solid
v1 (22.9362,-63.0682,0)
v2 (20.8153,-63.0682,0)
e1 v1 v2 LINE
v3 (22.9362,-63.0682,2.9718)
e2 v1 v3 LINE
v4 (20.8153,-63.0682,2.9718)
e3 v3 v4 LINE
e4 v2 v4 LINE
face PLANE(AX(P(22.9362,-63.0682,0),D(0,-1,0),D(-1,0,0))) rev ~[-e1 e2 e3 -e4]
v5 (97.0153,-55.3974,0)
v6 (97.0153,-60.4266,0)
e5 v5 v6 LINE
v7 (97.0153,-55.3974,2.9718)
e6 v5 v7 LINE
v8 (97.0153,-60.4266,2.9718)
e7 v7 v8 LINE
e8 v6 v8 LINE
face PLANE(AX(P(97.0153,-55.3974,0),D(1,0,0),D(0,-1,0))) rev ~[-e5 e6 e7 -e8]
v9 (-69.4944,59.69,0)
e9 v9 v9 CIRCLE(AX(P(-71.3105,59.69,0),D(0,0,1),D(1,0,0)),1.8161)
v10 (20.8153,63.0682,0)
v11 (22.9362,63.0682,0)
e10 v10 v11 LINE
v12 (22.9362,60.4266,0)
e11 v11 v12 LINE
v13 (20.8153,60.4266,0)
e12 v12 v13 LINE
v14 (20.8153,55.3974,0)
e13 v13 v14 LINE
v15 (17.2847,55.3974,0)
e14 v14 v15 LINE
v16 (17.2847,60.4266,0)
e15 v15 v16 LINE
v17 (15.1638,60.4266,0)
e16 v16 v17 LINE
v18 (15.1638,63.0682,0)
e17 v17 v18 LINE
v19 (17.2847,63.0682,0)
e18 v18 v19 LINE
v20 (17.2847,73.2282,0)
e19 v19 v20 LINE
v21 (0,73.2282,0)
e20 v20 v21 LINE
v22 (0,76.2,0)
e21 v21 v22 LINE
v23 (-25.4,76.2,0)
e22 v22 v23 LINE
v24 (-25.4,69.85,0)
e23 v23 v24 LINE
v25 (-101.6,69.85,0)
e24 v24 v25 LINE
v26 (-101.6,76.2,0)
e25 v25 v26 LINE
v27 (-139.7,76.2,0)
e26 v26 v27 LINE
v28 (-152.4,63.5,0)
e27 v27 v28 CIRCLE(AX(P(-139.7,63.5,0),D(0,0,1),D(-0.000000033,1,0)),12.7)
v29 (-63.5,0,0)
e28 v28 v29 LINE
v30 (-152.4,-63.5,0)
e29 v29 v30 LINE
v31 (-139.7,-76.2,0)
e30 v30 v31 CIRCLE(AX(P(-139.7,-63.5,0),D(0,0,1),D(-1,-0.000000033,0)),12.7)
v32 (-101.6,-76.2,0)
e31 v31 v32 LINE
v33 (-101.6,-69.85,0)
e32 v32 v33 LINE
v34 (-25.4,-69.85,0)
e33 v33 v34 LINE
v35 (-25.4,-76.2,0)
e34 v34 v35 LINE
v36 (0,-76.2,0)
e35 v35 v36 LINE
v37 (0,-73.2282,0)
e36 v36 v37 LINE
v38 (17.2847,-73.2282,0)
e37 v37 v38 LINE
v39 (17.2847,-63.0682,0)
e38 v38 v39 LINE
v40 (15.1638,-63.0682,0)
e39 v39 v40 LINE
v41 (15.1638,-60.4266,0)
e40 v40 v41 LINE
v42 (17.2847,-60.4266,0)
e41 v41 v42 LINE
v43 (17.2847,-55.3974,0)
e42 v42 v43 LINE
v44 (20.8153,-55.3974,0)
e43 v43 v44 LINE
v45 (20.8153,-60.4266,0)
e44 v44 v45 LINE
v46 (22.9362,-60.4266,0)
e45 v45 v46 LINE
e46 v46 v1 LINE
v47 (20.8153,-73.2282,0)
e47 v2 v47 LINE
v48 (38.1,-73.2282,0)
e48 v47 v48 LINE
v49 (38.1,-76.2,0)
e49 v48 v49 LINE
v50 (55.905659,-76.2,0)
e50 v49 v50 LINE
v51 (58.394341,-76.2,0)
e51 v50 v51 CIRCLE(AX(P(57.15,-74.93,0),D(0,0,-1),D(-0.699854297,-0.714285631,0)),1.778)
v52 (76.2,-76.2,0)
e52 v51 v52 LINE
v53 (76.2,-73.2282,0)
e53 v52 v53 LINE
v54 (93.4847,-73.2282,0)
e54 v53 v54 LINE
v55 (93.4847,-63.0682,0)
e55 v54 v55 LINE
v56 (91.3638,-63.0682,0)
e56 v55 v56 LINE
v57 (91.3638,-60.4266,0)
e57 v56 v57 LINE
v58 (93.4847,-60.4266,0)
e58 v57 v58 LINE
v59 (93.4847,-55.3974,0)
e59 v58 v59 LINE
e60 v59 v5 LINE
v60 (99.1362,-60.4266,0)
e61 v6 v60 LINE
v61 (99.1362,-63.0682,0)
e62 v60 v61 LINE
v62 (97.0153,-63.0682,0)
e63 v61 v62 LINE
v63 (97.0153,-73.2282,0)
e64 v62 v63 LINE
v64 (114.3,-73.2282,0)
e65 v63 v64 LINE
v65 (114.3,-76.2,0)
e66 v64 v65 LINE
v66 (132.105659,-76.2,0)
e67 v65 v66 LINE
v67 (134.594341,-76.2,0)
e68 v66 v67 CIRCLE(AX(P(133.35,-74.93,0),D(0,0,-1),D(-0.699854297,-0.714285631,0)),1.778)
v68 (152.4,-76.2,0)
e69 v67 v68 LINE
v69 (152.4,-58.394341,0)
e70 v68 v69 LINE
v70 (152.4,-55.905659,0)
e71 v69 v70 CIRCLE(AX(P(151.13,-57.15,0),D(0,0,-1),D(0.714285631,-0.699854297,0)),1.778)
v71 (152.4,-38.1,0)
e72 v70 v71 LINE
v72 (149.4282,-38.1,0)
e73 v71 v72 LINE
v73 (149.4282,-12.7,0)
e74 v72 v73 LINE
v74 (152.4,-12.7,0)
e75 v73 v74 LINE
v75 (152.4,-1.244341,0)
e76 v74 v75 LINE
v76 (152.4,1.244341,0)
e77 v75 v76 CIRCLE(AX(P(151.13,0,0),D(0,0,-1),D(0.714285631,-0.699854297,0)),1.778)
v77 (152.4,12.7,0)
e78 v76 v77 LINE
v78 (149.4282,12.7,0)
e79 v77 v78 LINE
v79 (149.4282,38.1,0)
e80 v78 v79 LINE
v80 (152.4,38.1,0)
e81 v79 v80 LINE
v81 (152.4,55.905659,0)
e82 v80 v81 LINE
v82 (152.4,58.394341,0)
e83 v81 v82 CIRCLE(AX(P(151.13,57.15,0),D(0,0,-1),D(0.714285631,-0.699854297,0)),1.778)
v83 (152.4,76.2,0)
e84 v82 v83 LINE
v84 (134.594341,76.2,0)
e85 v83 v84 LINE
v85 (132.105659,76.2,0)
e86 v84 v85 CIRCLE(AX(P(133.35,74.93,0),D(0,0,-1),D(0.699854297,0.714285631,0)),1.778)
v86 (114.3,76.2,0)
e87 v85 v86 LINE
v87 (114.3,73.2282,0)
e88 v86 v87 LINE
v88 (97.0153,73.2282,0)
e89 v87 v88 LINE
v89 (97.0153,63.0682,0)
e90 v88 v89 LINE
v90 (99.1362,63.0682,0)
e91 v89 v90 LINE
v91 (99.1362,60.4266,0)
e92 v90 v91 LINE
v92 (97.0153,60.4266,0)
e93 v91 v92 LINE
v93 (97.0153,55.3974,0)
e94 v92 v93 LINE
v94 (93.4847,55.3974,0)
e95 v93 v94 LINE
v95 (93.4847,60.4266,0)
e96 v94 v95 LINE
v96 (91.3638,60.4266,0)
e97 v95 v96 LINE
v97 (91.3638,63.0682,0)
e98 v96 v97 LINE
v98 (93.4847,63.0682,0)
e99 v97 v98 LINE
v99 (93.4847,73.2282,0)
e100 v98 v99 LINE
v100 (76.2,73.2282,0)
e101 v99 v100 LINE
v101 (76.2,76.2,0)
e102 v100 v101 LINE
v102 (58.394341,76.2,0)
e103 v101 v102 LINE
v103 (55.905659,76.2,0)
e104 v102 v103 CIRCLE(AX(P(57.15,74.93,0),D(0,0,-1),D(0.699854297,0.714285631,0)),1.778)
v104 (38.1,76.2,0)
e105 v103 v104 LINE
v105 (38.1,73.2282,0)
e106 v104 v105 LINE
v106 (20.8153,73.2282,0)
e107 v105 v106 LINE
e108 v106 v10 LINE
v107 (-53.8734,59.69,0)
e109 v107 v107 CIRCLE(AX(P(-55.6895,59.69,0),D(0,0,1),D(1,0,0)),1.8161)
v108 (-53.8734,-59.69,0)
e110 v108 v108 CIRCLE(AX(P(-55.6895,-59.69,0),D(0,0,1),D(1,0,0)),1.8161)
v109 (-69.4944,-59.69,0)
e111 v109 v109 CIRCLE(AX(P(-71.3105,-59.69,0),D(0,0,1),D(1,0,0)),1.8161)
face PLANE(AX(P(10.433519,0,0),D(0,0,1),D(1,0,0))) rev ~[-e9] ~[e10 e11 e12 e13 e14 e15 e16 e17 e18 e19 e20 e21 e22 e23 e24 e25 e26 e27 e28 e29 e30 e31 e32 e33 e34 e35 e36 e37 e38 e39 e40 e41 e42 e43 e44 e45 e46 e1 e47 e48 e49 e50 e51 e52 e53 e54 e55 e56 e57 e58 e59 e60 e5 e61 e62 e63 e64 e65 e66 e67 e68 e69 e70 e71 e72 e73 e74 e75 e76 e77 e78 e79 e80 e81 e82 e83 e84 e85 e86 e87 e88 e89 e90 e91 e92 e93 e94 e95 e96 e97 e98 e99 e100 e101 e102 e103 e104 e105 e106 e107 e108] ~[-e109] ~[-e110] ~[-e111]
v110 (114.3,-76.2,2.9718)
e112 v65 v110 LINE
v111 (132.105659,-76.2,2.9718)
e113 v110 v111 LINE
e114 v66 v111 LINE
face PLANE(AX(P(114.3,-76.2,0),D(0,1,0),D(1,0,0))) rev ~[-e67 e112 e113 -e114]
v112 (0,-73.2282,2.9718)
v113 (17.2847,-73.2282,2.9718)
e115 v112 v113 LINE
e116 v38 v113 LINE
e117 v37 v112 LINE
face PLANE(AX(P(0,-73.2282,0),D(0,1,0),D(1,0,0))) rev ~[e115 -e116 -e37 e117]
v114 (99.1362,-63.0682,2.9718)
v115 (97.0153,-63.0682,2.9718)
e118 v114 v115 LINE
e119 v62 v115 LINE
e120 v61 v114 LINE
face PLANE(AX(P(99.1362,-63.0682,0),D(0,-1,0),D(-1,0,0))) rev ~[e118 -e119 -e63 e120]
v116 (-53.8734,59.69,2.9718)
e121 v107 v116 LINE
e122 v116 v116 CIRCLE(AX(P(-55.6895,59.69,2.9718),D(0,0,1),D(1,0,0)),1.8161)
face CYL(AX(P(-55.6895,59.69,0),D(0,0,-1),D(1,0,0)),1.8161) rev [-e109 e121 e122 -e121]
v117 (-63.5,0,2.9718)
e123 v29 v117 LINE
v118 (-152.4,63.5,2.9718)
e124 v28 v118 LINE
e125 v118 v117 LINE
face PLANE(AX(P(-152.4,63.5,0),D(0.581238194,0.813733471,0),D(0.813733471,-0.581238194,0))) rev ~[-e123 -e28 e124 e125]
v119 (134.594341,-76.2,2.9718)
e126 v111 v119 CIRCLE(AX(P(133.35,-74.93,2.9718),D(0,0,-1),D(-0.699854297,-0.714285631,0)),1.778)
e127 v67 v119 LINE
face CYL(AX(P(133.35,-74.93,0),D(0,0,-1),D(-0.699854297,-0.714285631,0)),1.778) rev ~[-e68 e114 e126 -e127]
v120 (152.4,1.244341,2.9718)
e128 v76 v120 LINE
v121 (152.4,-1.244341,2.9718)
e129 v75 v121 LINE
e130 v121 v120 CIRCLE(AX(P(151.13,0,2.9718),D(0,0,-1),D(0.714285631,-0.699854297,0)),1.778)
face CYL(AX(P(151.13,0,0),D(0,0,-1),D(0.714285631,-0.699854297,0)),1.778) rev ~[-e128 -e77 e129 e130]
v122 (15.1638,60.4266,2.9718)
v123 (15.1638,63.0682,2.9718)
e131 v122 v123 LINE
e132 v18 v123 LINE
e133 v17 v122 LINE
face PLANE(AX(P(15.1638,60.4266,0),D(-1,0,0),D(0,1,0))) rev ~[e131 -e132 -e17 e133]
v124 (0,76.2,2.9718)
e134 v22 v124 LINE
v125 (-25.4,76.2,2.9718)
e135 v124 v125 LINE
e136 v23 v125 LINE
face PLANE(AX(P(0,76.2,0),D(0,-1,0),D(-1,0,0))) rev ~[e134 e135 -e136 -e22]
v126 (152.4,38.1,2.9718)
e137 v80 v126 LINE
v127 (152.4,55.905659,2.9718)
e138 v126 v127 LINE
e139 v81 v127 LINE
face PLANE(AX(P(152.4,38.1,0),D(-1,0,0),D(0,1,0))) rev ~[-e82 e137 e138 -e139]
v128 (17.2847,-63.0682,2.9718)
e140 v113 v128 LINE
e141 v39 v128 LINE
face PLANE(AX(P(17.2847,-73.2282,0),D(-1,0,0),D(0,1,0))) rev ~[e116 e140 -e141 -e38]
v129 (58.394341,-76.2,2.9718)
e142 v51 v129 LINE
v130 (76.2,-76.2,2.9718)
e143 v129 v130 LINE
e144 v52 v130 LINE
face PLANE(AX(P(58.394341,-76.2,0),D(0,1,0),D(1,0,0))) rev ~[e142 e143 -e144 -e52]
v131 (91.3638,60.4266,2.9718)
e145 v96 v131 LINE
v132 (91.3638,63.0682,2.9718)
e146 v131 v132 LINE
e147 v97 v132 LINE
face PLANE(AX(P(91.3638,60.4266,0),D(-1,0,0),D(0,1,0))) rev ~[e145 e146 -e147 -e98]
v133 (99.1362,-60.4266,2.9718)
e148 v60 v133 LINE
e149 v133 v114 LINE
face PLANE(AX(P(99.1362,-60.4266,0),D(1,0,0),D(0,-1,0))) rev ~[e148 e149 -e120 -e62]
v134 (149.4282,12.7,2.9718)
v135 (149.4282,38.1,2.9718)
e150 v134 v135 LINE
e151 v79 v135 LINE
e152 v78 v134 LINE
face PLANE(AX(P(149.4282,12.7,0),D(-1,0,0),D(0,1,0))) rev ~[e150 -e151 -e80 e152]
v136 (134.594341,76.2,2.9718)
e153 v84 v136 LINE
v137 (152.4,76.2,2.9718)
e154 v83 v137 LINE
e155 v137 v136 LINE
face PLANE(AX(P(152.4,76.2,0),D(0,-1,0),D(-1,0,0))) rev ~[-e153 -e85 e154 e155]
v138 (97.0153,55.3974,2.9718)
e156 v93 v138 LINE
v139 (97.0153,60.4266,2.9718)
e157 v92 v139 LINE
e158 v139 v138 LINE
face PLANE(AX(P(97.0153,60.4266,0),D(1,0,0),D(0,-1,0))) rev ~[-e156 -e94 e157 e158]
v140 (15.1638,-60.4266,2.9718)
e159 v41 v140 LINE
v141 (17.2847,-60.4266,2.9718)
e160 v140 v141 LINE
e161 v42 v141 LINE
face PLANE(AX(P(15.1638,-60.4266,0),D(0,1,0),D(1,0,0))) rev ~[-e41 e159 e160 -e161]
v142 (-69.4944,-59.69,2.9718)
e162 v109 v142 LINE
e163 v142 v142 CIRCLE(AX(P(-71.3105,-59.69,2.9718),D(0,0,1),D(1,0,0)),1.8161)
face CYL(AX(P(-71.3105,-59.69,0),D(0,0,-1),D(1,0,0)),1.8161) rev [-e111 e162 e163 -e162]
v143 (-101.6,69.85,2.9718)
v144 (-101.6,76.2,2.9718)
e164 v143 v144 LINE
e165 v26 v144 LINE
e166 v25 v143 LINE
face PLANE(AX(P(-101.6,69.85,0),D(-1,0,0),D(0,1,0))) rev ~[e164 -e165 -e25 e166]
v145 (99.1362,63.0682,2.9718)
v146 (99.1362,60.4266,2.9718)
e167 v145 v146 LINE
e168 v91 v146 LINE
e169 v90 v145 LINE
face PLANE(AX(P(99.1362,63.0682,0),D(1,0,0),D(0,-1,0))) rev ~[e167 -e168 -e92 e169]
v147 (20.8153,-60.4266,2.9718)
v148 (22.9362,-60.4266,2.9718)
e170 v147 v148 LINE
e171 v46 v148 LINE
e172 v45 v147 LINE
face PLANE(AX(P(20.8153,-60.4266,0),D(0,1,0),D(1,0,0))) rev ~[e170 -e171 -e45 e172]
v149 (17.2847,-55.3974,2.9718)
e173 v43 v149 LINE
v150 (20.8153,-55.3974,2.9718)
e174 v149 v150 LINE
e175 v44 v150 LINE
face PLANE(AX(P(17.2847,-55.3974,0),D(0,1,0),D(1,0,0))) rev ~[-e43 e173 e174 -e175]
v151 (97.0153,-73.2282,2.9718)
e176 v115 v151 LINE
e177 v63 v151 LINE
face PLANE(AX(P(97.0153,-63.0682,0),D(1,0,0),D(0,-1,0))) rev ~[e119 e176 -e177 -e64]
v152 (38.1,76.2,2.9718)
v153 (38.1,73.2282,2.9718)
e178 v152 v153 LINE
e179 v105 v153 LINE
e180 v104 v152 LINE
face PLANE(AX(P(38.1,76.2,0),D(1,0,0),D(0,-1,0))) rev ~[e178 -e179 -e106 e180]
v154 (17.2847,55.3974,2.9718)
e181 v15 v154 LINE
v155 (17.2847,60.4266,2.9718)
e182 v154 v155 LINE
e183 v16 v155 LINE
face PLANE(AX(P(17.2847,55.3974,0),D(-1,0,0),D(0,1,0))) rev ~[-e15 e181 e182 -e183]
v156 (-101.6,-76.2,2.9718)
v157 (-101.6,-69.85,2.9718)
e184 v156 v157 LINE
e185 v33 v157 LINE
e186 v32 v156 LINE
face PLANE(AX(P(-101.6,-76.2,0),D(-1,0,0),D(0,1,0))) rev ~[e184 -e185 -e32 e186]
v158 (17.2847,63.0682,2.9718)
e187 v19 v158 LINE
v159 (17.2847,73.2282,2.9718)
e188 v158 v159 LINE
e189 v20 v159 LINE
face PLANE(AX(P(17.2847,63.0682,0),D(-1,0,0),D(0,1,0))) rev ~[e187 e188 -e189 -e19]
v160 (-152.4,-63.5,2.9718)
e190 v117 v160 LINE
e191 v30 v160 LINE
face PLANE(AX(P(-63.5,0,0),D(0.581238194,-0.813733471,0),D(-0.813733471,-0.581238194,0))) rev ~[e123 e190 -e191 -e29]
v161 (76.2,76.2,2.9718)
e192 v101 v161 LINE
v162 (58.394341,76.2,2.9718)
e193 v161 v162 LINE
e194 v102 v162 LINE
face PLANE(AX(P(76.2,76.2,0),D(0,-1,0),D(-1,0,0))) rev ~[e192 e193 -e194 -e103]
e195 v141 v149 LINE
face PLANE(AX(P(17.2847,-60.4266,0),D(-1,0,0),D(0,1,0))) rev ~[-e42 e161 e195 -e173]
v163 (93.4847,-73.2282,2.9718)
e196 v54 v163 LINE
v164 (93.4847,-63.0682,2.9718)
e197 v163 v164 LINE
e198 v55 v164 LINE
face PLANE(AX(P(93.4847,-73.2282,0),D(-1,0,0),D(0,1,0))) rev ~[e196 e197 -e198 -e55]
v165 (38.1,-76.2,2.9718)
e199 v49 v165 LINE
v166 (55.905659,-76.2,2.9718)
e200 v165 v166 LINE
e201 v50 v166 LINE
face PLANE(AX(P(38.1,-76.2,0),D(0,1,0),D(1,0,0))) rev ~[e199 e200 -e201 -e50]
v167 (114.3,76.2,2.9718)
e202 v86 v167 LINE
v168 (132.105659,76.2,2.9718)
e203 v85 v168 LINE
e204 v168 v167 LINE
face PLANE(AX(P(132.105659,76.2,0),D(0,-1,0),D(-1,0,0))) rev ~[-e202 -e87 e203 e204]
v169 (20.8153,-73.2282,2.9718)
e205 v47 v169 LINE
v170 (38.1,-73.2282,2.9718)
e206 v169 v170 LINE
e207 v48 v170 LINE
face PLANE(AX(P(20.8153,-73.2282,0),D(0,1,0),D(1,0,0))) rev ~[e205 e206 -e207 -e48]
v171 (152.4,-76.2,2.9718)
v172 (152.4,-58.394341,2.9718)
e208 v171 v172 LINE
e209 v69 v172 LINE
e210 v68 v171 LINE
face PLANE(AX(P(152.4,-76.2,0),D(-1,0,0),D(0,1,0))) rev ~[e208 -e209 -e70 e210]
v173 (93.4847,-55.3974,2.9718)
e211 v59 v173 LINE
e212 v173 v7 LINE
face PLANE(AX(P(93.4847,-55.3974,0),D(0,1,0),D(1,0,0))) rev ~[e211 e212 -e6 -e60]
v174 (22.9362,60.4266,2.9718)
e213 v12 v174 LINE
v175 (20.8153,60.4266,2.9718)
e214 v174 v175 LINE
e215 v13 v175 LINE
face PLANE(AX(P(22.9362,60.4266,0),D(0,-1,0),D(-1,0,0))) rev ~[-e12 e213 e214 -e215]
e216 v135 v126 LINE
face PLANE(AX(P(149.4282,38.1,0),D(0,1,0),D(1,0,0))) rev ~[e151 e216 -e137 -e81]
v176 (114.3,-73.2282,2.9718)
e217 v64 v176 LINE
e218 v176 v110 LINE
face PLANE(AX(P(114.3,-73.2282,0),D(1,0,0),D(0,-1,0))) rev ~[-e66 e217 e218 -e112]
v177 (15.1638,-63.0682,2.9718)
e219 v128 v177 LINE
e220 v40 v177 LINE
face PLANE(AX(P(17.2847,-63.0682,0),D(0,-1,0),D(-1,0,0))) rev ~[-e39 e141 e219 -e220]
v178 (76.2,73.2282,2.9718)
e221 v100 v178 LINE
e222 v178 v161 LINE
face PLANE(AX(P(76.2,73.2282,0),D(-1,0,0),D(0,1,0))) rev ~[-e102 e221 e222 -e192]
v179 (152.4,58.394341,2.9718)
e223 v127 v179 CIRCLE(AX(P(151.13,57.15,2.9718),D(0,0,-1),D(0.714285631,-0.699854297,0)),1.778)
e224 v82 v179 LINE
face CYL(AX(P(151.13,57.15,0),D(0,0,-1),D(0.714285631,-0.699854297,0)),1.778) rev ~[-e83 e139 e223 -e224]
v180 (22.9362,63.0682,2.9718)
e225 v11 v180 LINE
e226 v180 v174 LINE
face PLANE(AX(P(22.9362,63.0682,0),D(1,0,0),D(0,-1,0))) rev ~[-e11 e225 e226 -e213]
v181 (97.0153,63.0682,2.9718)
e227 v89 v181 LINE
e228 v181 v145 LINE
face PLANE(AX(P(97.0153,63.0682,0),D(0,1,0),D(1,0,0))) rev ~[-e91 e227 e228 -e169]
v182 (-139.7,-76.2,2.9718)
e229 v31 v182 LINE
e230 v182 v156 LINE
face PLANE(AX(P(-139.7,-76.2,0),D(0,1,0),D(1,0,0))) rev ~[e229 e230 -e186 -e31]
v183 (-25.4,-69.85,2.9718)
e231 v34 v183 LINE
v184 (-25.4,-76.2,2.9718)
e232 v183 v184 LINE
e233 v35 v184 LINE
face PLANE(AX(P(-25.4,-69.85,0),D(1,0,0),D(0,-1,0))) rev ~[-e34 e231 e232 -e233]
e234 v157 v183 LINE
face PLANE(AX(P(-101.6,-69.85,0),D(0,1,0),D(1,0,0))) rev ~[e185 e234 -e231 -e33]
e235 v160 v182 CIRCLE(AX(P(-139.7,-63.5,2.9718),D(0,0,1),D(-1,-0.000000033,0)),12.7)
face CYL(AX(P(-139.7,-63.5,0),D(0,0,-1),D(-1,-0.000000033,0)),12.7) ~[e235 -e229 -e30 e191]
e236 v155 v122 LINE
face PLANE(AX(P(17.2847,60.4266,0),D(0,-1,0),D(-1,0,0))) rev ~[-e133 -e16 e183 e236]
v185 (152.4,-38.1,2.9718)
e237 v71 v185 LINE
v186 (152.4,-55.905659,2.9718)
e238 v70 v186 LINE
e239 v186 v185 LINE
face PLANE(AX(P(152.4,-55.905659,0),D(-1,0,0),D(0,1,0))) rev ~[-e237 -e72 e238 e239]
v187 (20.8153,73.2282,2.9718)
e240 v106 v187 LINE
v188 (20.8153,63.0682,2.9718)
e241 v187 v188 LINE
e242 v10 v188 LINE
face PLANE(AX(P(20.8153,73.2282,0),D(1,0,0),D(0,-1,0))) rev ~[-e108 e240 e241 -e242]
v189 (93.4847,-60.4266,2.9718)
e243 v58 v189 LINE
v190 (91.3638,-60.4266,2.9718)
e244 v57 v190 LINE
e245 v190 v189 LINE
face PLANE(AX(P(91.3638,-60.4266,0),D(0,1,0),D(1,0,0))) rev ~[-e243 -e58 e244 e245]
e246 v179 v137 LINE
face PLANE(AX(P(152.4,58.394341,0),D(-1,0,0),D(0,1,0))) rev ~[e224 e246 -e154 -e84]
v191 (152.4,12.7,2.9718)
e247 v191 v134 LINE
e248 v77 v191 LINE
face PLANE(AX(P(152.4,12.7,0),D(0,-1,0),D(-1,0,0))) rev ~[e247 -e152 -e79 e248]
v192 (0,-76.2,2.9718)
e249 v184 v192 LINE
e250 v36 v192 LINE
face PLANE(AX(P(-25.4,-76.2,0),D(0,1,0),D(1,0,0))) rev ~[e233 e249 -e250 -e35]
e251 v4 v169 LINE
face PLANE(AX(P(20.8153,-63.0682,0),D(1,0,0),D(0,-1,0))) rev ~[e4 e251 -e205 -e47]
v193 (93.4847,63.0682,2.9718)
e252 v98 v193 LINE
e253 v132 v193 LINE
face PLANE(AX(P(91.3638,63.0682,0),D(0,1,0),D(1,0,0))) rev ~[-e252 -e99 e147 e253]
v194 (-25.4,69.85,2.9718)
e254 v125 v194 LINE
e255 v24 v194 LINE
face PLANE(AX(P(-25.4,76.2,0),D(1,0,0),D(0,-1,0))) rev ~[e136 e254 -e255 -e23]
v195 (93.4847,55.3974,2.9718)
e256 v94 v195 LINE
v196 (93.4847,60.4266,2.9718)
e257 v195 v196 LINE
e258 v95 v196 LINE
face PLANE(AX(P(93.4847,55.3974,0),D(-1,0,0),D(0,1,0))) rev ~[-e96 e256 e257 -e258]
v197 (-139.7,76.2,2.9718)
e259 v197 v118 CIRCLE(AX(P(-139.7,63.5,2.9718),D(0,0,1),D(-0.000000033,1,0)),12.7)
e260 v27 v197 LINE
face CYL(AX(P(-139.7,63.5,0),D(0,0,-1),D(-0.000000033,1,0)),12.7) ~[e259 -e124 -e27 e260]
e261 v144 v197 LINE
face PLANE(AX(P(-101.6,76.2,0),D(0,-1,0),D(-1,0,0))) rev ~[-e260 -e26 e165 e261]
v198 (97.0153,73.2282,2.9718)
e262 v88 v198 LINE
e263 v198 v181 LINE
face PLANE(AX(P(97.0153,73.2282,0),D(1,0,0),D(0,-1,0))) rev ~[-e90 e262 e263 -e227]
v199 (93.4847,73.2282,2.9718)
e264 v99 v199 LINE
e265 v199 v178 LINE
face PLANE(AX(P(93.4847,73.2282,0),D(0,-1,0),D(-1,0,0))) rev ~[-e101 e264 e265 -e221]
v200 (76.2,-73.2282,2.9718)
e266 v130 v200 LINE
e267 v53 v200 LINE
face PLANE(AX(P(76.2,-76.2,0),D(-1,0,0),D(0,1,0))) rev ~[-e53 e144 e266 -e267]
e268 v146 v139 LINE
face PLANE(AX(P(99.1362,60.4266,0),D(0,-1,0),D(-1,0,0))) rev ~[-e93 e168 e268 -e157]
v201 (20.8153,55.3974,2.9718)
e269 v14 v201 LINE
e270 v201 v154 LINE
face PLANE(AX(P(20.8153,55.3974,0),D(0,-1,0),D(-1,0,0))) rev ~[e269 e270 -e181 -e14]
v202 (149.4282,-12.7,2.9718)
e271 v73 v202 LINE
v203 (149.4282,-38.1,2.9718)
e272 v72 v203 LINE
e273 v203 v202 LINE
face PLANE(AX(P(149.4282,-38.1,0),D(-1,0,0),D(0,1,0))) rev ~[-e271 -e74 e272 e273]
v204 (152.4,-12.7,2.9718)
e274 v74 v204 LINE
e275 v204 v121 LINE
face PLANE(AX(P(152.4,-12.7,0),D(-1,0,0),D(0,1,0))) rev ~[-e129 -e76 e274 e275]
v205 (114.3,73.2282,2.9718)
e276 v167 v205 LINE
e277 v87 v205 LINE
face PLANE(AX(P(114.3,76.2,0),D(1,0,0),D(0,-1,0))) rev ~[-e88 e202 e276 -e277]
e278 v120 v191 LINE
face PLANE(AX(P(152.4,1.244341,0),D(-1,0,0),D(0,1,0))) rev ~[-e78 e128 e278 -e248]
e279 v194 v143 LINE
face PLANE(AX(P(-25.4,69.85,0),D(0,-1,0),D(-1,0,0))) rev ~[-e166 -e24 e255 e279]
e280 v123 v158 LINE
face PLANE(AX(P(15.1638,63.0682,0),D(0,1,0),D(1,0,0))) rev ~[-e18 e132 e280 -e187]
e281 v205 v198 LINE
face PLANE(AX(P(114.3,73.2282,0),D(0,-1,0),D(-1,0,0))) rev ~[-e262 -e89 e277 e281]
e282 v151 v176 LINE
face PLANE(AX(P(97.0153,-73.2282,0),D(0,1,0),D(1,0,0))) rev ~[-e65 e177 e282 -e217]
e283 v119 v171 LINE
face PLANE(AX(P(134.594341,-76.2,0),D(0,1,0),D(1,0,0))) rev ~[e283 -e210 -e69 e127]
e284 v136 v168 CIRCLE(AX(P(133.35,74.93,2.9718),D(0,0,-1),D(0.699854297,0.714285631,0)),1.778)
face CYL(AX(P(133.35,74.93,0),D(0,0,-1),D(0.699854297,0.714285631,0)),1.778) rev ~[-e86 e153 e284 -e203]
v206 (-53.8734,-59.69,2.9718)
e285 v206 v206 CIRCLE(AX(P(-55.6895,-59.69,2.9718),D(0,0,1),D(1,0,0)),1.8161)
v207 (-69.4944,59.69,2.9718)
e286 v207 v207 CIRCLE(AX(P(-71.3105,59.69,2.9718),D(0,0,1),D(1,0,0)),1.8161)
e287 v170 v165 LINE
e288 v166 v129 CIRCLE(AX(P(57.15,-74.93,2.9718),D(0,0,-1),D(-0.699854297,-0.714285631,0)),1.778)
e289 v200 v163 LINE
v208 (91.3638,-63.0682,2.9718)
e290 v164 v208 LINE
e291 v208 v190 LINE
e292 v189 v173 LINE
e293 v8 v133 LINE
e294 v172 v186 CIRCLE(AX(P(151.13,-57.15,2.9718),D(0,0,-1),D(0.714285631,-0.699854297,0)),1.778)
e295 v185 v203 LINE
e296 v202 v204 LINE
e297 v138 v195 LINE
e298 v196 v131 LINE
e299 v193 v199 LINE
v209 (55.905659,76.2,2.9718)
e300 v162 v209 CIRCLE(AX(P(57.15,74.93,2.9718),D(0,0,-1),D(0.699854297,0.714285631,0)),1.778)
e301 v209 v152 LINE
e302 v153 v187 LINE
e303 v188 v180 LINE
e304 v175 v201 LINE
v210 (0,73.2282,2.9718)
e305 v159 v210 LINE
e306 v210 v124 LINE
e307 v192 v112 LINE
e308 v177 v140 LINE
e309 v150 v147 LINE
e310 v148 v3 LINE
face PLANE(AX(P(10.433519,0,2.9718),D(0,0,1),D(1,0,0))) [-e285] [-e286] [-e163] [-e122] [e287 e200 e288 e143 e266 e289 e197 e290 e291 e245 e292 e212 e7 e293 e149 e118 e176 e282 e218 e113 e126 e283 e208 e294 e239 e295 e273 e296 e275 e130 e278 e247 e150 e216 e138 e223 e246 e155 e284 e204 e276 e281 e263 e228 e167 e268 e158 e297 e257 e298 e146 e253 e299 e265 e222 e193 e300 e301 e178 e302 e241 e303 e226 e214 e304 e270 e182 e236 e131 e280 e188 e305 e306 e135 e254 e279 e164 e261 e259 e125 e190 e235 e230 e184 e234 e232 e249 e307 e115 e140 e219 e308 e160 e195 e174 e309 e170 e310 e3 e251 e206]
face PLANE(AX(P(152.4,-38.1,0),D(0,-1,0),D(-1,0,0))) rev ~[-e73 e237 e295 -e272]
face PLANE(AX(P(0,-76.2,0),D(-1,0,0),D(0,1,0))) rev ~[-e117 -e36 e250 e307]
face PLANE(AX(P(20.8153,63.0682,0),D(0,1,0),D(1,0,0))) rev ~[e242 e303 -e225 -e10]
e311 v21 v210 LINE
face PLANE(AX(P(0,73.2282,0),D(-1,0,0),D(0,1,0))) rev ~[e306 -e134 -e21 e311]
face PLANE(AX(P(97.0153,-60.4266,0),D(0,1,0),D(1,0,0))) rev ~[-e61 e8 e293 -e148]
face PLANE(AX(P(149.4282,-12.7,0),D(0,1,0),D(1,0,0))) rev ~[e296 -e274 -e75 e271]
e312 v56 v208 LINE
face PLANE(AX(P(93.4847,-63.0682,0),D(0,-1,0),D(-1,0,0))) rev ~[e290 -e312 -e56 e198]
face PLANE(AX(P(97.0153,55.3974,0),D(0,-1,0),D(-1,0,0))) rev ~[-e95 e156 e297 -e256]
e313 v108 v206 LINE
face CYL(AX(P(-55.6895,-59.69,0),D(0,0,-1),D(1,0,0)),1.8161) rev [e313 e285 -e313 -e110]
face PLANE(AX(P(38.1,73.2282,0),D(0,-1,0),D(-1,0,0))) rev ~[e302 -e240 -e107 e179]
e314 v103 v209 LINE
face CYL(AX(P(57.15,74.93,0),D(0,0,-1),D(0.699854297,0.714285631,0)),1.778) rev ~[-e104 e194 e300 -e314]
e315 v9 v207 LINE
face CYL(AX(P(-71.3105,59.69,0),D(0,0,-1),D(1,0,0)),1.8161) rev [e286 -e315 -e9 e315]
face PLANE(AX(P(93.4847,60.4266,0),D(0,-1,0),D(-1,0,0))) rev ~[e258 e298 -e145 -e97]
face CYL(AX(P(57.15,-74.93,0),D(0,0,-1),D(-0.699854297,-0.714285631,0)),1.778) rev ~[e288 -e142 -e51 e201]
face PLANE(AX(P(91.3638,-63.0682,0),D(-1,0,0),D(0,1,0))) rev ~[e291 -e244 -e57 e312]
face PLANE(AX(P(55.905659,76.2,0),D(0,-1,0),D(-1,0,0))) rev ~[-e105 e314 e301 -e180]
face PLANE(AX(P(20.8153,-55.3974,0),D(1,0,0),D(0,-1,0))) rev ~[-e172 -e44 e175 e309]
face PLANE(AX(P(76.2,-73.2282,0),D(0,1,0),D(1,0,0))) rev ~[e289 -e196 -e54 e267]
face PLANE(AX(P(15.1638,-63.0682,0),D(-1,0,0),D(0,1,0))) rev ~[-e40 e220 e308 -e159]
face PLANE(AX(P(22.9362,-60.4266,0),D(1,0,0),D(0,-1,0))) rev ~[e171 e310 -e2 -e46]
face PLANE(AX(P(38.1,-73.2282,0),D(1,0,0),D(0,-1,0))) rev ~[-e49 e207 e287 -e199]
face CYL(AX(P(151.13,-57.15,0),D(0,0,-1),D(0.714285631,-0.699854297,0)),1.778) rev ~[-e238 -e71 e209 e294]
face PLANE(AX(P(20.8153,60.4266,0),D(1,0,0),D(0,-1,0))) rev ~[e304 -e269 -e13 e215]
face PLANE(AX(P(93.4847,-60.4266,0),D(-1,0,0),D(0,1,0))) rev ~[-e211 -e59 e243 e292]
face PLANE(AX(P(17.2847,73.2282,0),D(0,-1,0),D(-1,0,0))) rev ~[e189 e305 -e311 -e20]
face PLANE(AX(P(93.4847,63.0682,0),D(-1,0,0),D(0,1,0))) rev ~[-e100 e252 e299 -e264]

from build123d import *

# Parameters (mm, degrees)
F0_R     = 1.8161
F1_DEPTH = 2.9718


with BuildPart() as f1:
    # F0 (on Top) → F1 (new body)
    with BuildSketch(Plane.XY):
        with BuildLine():
            Line((134.594341, -76.2), (152.4, -76.2))
            Line((152.4, -76.2), (152.4, -58.394341))
            ThreePointArc((152.4, -58.394341), (149.352, -57.15), (152.4, -55.905659))
            Line((152.4, -55.905659), (152.4, -38.1))
            Line((152.4, -38.1), (149.4282, -38.1))
            Line((149.4282, -38.1), (149.4282, -12.7))
            Line((149.4282, -12.7), (152.4, -12.7))
            Line((152.4, -12.7), (152.4, -1.244341))
            ThreePointArc((152.4, -1.244341), (149.352, 0), (152.4, 1.244341))
            Line((152.4, 1.244341), (152.4, 12.7))
            Line((152.4, 12.7), (149.4282, 12.7))
            Line((149.4282, 12.7), (149.4282, 38.1))
            Line((149.4282, 38.1), (152.4, 38.1))
            Line((152.4, 38.1), (152.4, 55.905659))
            ThreePointArc((152.4, 55.905659), (149.352, 57.15), (152.4, 58.394341))
            Line((152.4, 58.394341), (152.4, 76.2))
            Line((152.4, 76.2), (134.594341, 76.2))
            ThreePointArc((134.594341, 76.2), (133.35, 73.152), (132.105659, 76.2))
            Line((132.105659, 76.2), (114.3, 76.2))
            Line((114.3, 76.2), (114.3, 73.2282))
            Line((114.3, 73.2282), (97.0153, 73.2282))
            Line((97.0153, 73.2282), (97.0153, 63.0682))
            Line((97.0153, 63.0682), (99.1362, 63.0682))
            Line((99.1362, 63.0682), (99.1362, 60.4266))
            Line((99.1362, 60.4266), (97.0153, 60.4266))
            Line((97.0153, 60.4266), (97.0153, 55.3974))
            Line((97.0153, 55.3974), (93.4847, 55.3974))
            Line((93.4847, 55.3974), (93.4847, 60.4266))
            Line((93.4847, 60.4266), (91.3638, 60.4266))
            Line((91.3638, 60.4266), (91.3638, 63.0682))
            Line((91.3638, 63.0682), (93.4847, 63.0682))
            Line((93.4847, 63.0682), (93.4847, 73.2282))
            Line((93.4847, 73.2282), (76.2, 73.2282))
            Line((76.2, 73.2282), (76.2, 76.2))
            Line((76.2, 76.2), (58.394341, 76.2))
            ThreePointArc((58.394341, 76.2), (57.15, 73.152), (55.905659, 76.2))
            Line((55.905659, 76.2), (38.1, 76.2))
            Line((38.1, 76.2), (38.1, 73.2282))
            Line((38.1, 73.2282), (20.8153, 73.2282))
            Line((20.8153, 73.2282), (20.8153, 63.0682))
            Line((20.8153, 63.0682), (22.9362, 63.0682))
            Line((22.9362, 63.0682), (22.9362, 60.4266))
            Line((22.9362, 60.4266), (20.8153, 60.4266))
            Line((20.8153, 60.4266), (20.8153, 55.3974))
            Line((20.8153, 55.3974), (17.2847, 55.3974))
            Line((17.2847, 55.3974), (17.2847, 60.4266))
            Line((17.2847, 60.4266), (15.1638, 60.4266))
            Line((15.1638, 60.4266), (15.1638, 63.0682))
            Line((15.1638, 63.0682), (17.2847, 63.0682))
            Line((17.2847, 63.0682), (17.2847, 73.2282))
            Line((17.2847, 73.2282), (0, 73.2282))
            Line((0, 73.2282), (0, 76.2))
            Line((0, 76.2), (-25.4, 76.2))
            Line((-25.4, 76.2), (-25.4, 69.85))
            Line((-25.4, 69.85), (-101.6, 69.85))
            Line((-101.6, 69.85), (-101.6, 76.2))
            Line((-101.6, 76.2), (-139.7, 76.2))
            ThreePointArc((-139.7, 76.2), (-148.680256, 72.480256), (-152.4, 63.5))
            Line((-152.4, 63.5), (-63.5, 0))
            Line((-63.5, 0), (-152.4, -63.5))
            ThreePointArc((-152.4, -63.5), (-148.680256, -72.480256), (-139.7, -76.2))
            Line((-139.7, -76.2), (-101.6, -76.2))
            Line((-101.6, -76.2), (-101.6, -69.85))
            Line((-101.6, -69.85), (-25.4, -69.85))
            Line((-25.4, -69.85), (-25.4, -76.2))
            Line((-25.4, -76.2), (0, -76.2))
            Line((0, -76.2), (0, -73.2282))
            Line((0, -73.2282), (17.2847, -73.2282))
            Line((17.2847, -73.2282), (17.2847, -63.0682))
            Line((17.2847, -63.0682), (15.1638, -63.0682))
            Line((15.1638, -63.0682), (15.1638, -60.4266))
            Line((15.1638, -60.4266), (17.2847, -60.4266))
            Line((17.2847, -60.4266), (17.2847, -55.3974))
            Line((17.2847, -55.3974), (20.8153, -55.3974))
            Line((20.8153, -55.3974), (20.8153, -60.4266))
            Line((20.8153, -60.4266), (22.9362, -60.4266))
            Line((22.9362, -60.4266), (22.9362, -63.0682))
            Line((22.9362, -63.0682), (20.8153, -63.0682))
            Line((20.8153, -63.0682), (20.8153, -73.2282))
            Line((20.8153, -73.2282), (38.1, -73.2282))
            Line((38.1, -73.2282), (38.1, -76.2))
            Line((38.1, -76.2), (55.905659, -76.2))
            ThreePointArc((55.905659, -76.2), (57.15, -73.152), (58.394341, -76.2))
            Line((58.394341, -76.2), (76.2, -76.2))
            Line((76.2, -76.2), (76.2, -73.2282))
            Line((76.2, -73.2282), (93.4847, -73.2282))
            Line((93.4847, -73.2282), (93.4847, -63.0682))
            Line((93.4847, -63.0682), (91.3638, -63.0682))
            Line((91.3638, -63.0682), (91.3638, -60.4266))
            Line((91.3638, -60.4266), (93.4847, -60.4266))
            Line((93.4847, -60.4266), (93.4847, -55.3974))
            Line((93.4847, -55.3974), (97.0153, -55.3974))
            Line((97.0153, -55.3974), (97.0153, -60.4266))
            Line((97.0153, -60.4266), (99.1362, -60.4266))
            Line((99.1362, -60.4266), (99.1362, -63.0682))
            Line((99.1362, -63.0682), (97.0153, -63.0682))
            Line((97.0153, -63.0682), (97.0153, -73.2282))
            Line((97.0153, -73.2282), (114.3, -73.2282))
            Line((114.3, -73.2282), (114.3, -76.2))
            Line((114.3, -76.2), (132.105659, -76.2))
            ThreePointArc((132.105659, -76.2), (133.35, -73.152), (134.594341, -76.2))
        make_face()
        with Locations((-71.3105, -59.69)):
            Circle(F0_R, mode=Mode.SUBTRACT)
        with Locations((-55.6895, -59.69)):
            Circle(F0_R, mode=Mode.SUBTRACT)
        with Locations((-71.3105, 59.69)):
            Circle(F0_R, mode=Mode.SUBTRACT)
        with Locations((-55.6895, 59.69)):
            Circle(F0_R, mode=Mode.SUBTRACT)
    extrude(amount=F1_DEPTH)


solid = f1.part
